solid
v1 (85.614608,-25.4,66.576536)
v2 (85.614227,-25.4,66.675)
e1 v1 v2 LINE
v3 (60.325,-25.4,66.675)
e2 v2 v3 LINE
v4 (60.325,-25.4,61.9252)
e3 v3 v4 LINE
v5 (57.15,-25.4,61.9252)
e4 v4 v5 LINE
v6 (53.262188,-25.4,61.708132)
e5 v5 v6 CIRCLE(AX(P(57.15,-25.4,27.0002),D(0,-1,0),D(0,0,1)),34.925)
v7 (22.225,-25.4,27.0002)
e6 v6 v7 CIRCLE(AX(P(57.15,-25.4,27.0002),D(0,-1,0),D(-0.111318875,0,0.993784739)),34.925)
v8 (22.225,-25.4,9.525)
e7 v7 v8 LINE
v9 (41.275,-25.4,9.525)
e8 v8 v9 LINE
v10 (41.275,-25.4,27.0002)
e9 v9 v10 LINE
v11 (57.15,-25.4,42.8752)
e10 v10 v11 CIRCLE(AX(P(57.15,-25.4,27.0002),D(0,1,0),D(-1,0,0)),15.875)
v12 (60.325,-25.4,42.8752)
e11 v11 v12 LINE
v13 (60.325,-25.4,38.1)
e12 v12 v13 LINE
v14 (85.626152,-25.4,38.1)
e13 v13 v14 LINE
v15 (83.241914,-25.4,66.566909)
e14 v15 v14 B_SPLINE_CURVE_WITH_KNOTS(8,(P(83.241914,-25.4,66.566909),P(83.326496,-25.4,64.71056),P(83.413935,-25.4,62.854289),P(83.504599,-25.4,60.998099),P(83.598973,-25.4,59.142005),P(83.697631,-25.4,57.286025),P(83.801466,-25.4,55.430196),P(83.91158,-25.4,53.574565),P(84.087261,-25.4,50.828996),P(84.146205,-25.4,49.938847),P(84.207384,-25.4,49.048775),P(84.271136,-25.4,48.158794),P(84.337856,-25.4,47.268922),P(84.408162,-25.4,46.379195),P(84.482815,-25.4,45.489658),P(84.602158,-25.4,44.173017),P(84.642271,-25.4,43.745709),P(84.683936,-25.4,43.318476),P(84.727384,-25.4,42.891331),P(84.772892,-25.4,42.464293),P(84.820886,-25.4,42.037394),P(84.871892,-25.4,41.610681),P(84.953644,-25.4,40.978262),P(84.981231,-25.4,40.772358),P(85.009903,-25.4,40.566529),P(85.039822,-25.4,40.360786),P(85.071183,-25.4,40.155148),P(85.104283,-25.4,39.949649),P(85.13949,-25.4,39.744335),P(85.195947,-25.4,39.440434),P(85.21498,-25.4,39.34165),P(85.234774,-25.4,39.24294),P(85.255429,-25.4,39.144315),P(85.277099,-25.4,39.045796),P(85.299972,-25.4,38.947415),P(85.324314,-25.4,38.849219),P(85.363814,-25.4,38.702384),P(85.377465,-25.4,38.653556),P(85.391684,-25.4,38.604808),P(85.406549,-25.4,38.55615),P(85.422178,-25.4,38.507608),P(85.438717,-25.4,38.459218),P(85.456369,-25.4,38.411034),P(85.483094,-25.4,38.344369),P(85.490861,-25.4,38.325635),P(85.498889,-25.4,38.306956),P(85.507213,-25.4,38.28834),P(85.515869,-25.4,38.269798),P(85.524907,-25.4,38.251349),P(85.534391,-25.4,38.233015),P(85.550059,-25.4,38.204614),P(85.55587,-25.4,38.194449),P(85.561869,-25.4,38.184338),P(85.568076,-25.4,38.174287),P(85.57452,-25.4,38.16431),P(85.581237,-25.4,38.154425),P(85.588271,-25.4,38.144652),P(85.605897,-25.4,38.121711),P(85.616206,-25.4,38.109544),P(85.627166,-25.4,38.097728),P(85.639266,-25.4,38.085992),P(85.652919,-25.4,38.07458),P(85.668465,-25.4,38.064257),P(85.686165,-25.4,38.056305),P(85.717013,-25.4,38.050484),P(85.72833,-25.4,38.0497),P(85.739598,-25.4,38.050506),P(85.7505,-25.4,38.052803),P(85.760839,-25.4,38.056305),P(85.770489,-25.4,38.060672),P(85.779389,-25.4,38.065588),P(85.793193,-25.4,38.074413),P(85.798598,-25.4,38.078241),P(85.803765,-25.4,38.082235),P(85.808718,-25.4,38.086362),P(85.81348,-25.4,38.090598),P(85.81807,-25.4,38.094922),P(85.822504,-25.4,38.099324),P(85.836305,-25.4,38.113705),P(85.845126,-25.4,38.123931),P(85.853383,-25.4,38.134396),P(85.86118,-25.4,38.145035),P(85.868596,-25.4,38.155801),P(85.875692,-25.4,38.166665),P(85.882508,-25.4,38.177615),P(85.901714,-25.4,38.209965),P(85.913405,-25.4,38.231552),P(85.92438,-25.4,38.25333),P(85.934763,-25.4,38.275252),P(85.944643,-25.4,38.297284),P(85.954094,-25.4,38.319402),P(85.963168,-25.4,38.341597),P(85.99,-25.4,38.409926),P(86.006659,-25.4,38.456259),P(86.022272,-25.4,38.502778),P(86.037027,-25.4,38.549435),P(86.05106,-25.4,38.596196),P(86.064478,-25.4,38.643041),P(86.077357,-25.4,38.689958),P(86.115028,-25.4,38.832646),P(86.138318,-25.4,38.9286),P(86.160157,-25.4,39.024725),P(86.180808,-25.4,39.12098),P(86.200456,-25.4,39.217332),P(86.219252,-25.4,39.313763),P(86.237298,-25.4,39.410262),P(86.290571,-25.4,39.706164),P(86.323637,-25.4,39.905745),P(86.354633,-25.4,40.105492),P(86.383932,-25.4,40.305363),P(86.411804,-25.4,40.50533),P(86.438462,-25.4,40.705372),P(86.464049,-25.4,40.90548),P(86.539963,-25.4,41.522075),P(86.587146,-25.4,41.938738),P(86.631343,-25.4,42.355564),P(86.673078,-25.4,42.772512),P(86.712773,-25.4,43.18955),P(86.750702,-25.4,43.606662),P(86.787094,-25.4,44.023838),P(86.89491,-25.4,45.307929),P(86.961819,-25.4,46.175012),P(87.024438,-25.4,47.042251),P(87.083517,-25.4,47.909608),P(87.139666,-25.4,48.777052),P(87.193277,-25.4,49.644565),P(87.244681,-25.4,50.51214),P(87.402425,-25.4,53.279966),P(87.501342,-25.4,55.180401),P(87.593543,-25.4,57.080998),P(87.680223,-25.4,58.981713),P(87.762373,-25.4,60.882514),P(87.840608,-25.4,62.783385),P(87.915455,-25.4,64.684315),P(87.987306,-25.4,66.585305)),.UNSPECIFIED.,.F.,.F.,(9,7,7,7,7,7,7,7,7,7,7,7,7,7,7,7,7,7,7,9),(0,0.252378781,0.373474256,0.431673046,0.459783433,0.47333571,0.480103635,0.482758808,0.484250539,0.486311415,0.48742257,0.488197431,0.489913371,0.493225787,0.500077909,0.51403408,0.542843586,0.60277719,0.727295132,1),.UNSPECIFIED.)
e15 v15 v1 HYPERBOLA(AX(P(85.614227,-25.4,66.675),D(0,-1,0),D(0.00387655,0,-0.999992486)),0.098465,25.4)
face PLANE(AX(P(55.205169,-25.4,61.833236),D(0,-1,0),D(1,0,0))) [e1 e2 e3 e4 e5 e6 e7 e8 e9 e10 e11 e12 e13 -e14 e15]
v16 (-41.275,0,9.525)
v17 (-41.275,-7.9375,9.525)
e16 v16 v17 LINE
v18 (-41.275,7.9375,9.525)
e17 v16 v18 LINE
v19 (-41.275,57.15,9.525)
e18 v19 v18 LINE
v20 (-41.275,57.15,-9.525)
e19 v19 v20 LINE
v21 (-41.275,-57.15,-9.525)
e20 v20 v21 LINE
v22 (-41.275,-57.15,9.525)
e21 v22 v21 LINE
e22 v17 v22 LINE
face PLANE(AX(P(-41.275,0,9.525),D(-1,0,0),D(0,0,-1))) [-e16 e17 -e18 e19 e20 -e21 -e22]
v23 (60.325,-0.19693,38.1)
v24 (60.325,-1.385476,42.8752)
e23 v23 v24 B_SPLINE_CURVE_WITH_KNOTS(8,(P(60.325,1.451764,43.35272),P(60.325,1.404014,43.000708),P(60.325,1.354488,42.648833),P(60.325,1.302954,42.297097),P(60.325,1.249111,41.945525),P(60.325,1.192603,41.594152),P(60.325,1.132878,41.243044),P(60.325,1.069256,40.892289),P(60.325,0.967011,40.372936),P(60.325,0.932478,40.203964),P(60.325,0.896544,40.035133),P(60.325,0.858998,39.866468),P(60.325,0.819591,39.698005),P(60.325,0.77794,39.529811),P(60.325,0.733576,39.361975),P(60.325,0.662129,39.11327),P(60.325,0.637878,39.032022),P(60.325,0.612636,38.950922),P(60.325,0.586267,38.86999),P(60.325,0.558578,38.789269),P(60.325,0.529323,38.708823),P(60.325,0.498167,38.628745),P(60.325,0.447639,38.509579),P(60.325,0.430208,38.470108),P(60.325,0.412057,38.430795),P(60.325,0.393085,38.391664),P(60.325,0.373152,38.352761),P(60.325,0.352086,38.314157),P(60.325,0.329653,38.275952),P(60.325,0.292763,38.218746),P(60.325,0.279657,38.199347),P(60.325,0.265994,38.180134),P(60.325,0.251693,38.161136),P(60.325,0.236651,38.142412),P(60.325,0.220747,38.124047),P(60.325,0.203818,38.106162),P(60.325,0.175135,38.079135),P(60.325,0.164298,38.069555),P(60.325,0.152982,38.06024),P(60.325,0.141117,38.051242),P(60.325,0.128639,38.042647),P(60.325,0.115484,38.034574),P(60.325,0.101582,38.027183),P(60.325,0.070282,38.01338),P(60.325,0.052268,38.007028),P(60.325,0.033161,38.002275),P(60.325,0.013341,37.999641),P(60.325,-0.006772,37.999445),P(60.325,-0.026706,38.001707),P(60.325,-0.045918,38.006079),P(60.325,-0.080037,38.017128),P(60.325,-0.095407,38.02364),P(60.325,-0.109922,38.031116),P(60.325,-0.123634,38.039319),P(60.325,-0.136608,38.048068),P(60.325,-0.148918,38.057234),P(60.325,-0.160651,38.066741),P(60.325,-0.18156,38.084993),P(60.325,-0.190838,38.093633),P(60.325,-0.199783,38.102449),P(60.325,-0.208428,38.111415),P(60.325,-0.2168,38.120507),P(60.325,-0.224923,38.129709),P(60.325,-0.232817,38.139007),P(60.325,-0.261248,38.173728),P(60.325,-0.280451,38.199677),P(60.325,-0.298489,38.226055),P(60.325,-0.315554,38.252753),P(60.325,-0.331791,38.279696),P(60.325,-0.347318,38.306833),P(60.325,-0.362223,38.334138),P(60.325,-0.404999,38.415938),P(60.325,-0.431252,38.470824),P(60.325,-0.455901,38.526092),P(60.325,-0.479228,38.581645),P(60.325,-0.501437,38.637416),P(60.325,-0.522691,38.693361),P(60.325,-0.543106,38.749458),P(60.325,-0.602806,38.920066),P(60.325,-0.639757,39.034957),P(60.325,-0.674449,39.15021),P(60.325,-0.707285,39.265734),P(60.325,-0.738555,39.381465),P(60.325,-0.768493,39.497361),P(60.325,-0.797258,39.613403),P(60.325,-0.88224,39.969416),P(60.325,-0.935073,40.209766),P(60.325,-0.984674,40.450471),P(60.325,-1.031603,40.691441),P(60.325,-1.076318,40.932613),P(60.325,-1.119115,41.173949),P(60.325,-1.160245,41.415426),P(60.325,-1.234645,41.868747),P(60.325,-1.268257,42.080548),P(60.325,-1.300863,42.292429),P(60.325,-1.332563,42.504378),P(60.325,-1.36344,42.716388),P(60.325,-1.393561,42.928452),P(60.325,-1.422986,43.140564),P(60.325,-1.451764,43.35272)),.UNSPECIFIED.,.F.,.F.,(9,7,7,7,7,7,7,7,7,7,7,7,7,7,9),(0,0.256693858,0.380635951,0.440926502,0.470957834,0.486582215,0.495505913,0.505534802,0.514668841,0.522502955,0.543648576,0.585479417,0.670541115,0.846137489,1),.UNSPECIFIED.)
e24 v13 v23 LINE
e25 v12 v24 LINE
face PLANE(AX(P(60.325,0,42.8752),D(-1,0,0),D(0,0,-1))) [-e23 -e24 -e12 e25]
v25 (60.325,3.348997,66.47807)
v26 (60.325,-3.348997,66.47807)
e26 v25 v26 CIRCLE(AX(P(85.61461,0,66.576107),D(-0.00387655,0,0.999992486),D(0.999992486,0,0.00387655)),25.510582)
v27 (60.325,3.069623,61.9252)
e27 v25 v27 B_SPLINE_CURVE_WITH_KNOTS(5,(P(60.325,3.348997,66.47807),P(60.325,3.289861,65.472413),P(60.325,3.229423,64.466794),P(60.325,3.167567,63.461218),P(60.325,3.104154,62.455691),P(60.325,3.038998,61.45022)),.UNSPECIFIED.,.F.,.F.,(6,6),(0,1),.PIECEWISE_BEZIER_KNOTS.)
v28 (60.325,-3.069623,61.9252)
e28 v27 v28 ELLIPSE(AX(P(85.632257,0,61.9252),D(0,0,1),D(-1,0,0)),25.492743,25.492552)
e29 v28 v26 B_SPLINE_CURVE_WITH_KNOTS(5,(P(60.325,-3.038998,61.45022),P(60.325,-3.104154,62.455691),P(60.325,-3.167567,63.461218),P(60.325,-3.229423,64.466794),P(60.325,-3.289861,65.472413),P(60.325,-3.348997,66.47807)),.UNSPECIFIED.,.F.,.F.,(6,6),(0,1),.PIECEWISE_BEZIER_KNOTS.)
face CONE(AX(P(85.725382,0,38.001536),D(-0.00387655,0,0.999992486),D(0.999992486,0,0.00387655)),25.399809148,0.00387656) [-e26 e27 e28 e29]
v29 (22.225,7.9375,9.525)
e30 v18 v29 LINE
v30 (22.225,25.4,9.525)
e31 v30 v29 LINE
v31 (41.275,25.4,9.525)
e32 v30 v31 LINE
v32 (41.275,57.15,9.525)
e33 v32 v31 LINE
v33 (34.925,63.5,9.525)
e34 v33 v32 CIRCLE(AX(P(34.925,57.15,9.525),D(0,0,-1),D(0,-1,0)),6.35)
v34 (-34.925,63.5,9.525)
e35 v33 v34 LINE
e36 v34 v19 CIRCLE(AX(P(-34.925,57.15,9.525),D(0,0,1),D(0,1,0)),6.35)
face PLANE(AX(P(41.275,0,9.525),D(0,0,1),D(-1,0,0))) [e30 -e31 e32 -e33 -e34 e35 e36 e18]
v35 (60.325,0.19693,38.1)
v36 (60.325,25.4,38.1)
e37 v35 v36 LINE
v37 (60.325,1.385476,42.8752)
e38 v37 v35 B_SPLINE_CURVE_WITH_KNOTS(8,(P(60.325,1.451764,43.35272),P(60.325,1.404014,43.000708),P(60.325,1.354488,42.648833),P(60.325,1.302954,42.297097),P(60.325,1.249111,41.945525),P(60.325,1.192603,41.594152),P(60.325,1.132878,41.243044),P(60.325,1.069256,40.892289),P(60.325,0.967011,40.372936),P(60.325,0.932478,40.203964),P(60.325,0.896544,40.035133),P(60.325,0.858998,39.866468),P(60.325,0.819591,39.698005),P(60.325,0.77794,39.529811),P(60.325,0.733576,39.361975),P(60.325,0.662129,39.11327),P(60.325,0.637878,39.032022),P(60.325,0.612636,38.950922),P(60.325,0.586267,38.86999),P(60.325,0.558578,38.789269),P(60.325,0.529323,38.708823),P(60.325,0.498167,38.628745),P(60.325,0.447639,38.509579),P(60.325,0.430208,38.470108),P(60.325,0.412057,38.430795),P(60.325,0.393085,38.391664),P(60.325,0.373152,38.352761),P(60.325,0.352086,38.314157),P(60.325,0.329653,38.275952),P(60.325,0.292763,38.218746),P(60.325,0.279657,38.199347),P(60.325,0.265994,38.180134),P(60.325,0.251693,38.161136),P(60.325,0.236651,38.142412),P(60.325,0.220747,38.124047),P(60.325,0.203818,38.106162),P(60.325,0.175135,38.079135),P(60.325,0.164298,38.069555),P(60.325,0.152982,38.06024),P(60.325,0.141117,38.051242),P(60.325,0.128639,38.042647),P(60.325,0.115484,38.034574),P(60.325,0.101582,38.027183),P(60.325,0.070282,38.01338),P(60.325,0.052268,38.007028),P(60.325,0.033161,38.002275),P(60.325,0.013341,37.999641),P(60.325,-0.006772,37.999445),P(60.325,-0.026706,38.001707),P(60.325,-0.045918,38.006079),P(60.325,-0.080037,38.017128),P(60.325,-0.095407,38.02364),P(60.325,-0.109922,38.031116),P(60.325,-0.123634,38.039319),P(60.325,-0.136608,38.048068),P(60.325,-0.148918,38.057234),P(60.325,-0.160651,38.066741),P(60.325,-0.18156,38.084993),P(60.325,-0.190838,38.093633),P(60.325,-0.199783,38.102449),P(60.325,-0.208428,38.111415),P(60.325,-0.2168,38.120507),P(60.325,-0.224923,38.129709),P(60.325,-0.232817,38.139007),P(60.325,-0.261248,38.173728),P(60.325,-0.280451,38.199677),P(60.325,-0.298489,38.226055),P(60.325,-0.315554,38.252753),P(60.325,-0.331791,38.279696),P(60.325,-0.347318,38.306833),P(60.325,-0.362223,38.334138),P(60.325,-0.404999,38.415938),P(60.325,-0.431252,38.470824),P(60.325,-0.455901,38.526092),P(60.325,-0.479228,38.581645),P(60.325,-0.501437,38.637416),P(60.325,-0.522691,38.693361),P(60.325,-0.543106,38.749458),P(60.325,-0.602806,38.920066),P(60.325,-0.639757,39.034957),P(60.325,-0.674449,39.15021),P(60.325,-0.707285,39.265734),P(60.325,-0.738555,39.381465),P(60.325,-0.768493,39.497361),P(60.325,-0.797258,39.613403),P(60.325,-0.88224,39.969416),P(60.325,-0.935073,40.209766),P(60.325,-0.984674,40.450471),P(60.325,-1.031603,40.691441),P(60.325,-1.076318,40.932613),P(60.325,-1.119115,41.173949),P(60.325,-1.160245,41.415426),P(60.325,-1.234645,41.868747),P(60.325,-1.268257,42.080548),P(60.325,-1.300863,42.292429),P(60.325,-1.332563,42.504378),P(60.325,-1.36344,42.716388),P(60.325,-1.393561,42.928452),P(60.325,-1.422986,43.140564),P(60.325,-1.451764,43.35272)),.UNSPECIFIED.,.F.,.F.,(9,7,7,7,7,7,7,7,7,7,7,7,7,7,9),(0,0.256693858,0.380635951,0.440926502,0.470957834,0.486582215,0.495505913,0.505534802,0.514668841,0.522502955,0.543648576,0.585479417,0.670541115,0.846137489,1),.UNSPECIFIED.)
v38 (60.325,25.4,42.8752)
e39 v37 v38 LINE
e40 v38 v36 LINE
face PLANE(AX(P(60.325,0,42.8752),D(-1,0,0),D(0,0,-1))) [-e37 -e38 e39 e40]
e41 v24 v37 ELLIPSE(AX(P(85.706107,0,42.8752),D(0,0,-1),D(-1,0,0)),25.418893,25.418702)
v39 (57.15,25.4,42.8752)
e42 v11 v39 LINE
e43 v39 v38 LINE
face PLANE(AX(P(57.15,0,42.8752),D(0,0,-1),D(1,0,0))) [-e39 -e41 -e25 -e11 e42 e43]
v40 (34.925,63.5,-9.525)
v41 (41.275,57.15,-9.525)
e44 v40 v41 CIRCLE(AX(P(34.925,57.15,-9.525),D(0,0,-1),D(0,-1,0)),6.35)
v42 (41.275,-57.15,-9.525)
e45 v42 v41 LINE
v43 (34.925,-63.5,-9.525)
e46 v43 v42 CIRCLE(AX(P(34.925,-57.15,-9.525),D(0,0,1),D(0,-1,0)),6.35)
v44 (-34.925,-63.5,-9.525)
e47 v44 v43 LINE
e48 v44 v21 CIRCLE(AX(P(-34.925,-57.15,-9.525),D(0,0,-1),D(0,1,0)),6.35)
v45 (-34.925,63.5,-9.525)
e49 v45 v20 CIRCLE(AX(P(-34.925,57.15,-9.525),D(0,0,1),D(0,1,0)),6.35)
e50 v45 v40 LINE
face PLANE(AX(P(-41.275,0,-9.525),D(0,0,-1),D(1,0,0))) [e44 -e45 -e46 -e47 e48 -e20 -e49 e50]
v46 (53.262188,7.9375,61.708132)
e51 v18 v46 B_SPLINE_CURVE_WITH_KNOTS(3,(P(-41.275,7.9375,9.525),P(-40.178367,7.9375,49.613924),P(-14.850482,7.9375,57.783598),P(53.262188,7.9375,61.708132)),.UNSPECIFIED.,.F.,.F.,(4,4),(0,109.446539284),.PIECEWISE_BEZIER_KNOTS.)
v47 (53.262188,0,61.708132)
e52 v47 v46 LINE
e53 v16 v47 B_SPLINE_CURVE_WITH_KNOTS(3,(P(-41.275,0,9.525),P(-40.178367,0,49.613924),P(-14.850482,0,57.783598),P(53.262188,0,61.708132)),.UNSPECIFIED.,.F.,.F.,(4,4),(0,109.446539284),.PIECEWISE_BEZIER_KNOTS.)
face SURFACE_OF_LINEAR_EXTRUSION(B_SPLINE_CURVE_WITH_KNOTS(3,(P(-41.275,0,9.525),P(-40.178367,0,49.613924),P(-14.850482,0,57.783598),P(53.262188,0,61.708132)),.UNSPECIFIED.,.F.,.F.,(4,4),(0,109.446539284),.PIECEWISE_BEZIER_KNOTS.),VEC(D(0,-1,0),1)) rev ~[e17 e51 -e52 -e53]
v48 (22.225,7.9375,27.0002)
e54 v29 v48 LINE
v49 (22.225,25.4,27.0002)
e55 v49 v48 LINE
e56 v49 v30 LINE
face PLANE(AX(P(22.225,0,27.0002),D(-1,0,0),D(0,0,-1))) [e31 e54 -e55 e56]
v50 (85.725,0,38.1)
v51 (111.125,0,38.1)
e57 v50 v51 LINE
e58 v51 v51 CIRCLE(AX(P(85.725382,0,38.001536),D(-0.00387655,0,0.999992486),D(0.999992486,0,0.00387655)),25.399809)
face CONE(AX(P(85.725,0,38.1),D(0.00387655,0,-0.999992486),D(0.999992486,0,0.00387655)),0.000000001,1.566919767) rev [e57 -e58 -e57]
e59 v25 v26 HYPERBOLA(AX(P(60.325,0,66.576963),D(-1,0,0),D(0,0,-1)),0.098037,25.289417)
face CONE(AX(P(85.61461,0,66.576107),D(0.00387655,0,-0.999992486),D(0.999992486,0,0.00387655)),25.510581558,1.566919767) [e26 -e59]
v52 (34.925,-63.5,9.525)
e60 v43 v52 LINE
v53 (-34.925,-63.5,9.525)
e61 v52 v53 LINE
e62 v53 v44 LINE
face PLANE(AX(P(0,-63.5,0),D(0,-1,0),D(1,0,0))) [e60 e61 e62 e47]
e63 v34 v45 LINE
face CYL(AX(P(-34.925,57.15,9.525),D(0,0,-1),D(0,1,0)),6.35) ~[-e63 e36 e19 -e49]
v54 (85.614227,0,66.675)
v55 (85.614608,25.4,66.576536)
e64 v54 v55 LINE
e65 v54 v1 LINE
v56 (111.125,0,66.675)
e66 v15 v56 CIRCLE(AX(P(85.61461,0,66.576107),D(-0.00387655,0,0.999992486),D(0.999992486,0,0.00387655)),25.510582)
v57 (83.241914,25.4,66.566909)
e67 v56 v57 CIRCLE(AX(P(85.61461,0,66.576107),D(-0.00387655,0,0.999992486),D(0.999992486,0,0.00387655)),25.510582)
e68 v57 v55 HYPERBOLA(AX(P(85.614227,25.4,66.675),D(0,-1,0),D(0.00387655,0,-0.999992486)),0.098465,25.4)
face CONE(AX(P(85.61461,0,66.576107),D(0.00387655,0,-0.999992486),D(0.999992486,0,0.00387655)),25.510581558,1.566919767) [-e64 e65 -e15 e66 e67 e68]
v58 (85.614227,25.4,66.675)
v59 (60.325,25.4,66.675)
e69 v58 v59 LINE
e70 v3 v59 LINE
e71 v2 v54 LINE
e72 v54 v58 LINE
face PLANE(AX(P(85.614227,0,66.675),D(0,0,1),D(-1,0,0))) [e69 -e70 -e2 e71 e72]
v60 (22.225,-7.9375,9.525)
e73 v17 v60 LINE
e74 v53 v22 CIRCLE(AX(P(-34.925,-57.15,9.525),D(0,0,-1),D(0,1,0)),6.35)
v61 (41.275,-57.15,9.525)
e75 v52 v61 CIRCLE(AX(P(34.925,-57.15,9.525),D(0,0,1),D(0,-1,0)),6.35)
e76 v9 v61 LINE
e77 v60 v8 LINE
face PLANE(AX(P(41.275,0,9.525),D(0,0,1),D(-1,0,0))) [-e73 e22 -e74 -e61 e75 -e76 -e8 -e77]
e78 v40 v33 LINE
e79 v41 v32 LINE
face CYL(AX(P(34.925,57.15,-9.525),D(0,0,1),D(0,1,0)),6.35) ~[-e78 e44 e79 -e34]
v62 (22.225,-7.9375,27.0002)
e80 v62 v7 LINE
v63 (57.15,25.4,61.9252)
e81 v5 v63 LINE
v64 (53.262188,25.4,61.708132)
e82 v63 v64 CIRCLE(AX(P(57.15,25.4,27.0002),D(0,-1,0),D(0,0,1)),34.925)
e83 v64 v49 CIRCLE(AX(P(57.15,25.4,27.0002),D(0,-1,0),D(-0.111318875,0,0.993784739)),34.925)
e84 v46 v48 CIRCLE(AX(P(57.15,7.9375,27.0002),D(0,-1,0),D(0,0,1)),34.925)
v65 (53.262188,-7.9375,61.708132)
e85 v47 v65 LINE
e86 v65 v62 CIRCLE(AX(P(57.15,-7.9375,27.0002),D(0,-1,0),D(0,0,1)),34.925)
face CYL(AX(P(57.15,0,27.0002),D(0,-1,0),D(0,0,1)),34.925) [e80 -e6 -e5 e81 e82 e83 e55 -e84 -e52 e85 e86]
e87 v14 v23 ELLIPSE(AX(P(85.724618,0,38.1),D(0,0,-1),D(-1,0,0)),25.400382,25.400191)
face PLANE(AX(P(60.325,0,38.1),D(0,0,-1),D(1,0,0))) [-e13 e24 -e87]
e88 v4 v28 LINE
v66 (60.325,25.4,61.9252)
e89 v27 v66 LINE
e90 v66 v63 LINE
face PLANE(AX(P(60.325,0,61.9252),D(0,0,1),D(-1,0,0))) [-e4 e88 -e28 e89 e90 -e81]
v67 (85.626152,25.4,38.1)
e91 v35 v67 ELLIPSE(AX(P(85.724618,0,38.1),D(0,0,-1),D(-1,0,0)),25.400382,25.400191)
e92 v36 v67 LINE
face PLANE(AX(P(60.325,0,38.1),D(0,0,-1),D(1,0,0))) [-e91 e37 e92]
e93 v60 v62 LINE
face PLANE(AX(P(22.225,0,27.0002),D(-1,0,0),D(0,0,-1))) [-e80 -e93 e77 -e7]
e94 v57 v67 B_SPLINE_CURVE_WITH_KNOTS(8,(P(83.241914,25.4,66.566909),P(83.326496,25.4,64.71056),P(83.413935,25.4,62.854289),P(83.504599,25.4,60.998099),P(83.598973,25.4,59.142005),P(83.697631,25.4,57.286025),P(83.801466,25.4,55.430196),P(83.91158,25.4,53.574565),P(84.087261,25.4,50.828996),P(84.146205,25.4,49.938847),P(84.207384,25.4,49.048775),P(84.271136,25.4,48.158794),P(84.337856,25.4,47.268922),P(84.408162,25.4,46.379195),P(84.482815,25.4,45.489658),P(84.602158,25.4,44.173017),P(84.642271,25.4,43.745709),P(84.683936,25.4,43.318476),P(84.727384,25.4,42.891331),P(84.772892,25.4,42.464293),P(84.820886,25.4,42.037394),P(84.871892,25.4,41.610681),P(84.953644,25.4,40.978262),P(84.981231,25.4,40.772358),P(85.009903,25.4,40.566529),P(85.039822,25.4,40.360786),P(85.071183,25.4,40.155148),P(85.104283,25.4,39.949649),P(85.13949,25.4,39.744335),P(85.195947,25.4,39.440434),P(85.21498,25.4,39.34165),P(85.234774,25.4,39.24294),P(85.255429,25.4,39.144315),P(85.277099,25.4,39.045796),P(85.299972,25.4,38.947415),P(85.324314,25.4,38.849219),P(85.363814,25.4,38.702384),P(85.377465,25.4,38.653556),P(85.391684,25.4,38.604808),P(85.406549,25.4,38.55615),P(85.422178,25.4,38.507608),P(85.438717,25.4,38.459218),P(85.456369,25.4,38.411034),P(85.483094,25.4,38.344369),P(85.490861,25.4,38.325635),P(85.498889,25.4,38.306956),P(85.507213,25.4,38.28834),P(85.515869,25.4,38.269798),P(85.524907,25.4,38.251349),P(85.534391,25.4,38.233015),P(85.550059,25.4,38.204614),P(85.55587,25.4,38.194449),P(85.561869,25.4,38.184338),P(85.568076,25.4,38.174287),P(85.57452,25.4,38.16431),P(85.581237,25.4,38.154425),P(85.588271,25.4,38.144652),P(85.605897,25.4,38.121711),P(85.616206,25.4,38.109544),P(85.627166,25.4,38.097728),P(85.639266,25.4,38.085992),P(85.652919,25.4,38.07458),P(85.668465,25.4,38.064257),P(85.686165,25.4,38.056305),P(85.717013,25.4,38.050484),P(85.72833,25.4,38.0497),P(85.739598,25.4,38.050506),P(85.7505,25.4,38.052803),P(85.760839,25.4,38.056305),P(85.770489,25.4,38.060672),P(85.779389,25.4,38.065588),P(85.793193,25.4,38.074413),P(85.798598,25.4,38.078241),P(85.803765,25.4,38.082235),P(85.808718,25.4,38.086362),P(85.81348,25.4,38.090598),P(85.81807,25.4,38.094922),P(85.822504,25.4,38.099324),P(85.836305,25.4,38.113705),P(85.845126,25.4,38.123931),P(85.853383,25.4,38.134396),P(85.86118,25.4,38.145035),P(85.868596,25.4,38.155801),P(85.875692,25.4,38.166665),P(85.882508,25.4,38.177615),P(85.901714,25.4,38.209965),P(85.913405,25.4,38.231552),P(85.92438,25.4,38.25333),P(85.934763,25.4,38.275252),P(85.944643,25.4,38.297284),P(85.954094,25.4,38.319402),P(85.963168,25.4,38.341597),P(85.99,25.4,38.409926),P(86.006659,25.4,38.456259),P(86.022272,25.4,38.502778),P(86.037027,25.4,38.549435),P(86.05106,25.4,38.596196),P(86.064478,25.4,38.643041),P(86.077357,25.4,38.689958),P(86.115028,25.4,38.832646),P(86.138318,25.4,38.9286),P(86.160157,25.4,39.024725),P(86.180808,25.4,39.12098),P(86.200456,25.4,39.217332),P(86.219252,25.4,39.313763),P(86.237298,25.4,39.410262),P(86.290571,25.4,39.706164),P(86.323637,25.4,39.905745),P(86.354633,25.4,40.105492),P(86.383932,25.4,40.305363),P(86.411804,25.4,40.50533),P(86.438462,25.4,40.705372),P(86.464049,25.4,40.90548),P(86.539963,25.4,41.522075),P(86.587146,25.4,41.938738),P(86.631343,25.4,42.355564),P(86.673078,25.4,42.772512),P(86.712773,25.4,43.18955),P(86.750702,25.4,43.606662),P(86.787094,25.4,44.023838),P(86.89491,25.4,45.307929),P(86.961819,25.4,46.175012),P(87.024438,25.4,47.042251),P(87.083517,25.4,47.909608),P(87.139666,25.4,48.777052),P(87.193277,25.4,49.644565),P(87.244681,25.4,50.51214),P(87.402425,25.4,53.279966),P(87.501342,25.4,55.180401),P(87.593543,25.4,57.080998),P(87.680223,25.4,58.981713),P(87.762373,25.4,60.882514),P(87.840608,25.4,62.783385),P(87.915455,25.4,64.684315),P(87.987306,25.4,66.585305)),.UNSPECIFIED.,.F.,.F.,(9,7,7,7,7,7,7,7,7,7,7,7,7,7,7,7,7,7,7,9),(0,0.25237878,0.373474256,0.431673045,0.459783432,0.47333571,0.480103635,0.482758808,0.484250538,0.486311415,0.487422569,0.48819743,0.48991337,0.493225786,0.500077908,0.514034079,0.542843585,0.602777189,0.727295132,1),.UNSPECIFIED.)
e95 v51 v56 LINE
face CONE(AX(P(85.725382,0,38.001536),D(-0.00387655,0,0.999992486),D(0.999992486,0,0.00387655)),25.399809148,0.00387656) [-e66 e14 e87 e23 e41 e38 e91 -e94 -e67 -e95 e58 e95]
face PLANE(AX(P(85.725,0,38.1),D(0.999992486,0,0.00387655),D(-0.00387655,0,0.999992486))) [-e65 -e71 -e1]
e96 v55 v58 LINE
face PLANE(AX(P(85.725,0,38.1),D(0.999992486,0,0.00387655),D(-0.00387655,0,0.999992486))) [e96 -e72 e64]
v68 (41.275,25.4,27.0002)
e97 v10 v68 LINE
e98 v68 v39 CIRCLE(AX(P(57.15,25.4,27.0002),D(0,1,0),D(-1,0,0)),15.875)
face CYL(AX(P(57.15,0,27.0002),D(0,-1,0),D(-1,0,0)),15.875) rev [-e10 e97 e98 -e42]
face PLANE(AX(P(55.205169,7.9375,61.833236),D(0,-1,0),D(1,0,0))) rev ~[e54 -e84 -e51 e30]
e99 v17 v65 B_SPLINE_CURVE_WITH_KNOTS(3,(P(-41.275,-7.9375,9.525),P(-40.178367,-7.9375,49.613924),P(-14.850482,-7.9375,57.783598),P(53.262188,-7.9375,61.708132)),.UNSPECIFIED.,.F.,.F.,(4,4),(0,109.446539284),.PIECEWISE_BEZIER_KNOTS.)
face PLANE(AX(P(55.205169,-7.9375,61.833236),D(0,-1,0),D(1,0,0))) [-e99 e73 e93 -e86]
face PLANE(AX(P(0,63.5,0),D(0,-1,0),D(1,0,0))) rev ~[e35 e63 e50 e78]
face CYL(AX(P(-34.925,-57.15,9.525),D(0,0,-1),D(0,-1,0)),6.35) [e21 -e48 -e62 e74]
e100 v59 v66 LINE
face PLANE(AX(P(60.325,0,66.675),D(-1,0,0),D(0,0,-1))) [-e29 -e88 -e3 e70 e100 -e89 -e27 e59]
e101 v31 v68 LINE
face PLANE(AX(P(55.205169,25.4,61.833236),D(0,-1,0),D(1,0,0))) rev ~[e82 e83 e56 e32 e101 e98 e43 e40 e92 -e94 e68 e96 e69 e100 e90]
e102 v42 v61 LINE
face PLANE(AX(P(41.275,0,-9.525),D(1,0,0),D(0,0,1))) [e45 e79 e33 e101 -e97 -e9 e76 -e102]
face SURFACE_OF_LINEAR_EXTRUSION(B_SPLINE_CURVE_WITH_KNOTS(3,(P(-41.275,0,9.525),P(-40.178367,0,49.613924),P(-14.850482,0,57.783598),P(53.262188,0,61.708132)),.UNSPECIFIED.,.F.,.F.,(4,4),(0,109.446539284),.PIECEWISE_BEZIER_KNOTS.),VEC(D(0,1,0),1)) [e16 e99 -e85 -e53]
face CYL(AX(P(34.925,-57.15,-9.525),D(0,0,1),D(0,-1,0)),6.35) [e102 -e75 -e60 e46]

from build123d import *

# Parameters (mm, degrees)
F1_DEPTH = 63.5
F2_DEPTH = 25.4
F3_DEPTH = 7.9375
F5_R     = 6.35


with BuildPart() as f1:
    # F0 (on Front) → F1 (new body, symmetric)
    with BuildSketch(Plane.XZ):
        Polygon((41.275, -9.525), (41.275, 9.525), (22.225, 9.525), (-41.275, 9.525), (-41.275, -9.525), align=None)
    extrude(amount=F1_DEPTH, both=True)

    # F0 (on Front) → F2 (join, symmetric)
    with BuildSketch(Plane.XZ):
        with BuildLine():
            ThreePointArc((57.15, 61.9252), (55.2030666201, 61.8708907791), (53.2621882973, 61.7081320209))
            add(Edge.make_bspline(
                [(53.2621882973, 61.7081320209), (54.5429566501, 61.7819276715), (55.8388527662, 61.8542223335), (57.15, 61.9252)],
                knots=[109.4465392836, 109.4465392836, 109.4465392836, 109.4465392836, 111.5045361635, 111.5045361635, 111.5045361635, 111.5045361635], degree=3))
        make_face()
        Polygon((41.275, -9.525), (41.275, 9.525), (22.225, 9.525), (-41.275, 9.525), (-41.275, -9.525), align=None)
        with BuildLine():
            Line((22.225, 9.525), (41.275, 9.525))
            Line((41.275, 9.525), (41.275, 27.0002))
            ThreePointArc((41.275, 27.0002), (45.9246798487, 38.2255201513), (57.15, 42.8752))
            Line((57.15, 42.8752), (60.325, 42.8752))
            Line((60.325, 42.8752), (60.325, 61.9252))
            Line((60.325, 61.9252), (57.15, 61.9252))
            add(Edge.make_bspline(
                [(53.2621882973, 61.7081320209), (54.5429566501, 61.7819276715), (55.8388527662, 61.8542223335), (57.15, 61.9252)],
                knots=[109.4465392836, 109.4465392836, 109.4465392836, 109.4465392836, 111.5045361635, 111.5045361635, 111.5045361635, 111.5045361635], degree=3))
            ThreePointArc((53.2621882973, 61.7081320209), (31.11600829, 50.2808121191), (22.225, 27.0002))
            Line((22.225, 27.0002), (22.225, 9.525))
        make_face()
        Polygon((60.325, 61.9252), (60.325, 42.8752), (60.325, 38.1), (85.725, 38.1), (85.6142267585, 66.675), (60.325, 66.675), align=None)
    extrude(amount=F2_DEPTH, both=True)

    # F0 (on Front) → F3 (join, symmetric)
    with BuildSketch(Plane.XZ):
        with BuildLine():
            ThreePointArc((57.15, 61.9252), (55.2030666201, 61.8708907791), (53.2621882973, 61.7081320209))
            add(Edge.make_bspline(
                [(53.2621882973, 61.7081320209), (54.5429566501, 61.7819276715), (55.8388527662, 61.8542223335), (57.15, 61.9252)],
                knots=[109.4465392836, 109.4465392836, 109.4465392836, 109.4465392836, 111.5045361635, 111.5045361635, 111.5045361635, 111.5045361635], degree=3))
        make_face()
        Polygon((41.275, -9.525), (41.275, 9.525), (22.225, 9.525), (-41.275, 9.525), (-41.275, -9.525), align=None)
        with BuildLine():
            Line((-41.275, 9.525), (22.225, 9.525))
            Line((22.225, 9.525), (22.225, 27.0002))
            ThreePointArc((22.225, 27.0002), (31.11600829, 50.2808121191), (53.2621882973, 61.7081320209))
            add(Edge.make_bspline(
                [(-41.275, 9.525), (-40.1783672468, 49.6139237835), (-14.8504824304, 57.7835980928), (53.2621882973, 61.7081320209)],
                knots=[0, 0, 0, 0, 109.4465392836, 109.4465392836, 109.4465392836, 109.4465392836], degree=3))
        make_face()
        Polygon((60.325, 61.9252), (60.325, 42.8752), (60.325, 38.1), (85.725, 38.1), (85.6142267585, 66.675), (60.325, 66.675), align=None)
        with BuildLine():
            Line((22.225, 9.525), (41.275, 9.525))
            Line((41.275, 9.525), (41.275, 27.0002))
            ThreePointArc((41.275, 27.0002), (45.9246798487, 38.2255201513), (57.15, 42.8752))
            Line((57.15, 42.8752), (60.325, 42.8752))
            Line((60.325, 42.8752), (60.325, 61.9252))
            Line((60.325, 61.9252), (57.15, 61.9252))
            add(Edge.make_bspline(
                [(53.2621882973, 61.7081320209), (54.5429566501, 61.7819276715), (55.8388527662, 61.8542223335), (57.15, 61.9252)],
                knots=[109.4465392836, 109.4465392836, 109.4465392836, 109.4465392836, 111.5045361635, 111.5045361635, 111.5045361635, 111.5045361635], degree=3))
            ThreePointArc((53.2621882973, 61.7081320209), (31.11600829, 50.2808121191), (22.225, 27.0002))
            Line((22.225, 27.0002), (22.225, 9.525))
        make_face()
    extrude(amount=F3_DEPTH, both=True)

    # F0 (on Front) → F4 (revolve)
    with BuildSketch(Plane.XZ):
        Polygon((85.6142267585, 66.675), (85.725, 38.1), (111.125, 38.1), (111.125, 66.675), align=None)
    revolve(axis=Axis((85.6696133792, 0, 52.3875), (-0.0038765498, 0, 0.9999924862)))

    # F5
    f5_edges = [f1.edges().sort_by_distance(p)[0] for p in [
        (41.275, -63.5, 0),
        (41.275, 63.5, 0),
        (-41.275, 63.5, 0),
        (-41.275, -63.5, 0),
    ]]
    fillet(f5_edges, radius=F5_R)


solid = f1.part
